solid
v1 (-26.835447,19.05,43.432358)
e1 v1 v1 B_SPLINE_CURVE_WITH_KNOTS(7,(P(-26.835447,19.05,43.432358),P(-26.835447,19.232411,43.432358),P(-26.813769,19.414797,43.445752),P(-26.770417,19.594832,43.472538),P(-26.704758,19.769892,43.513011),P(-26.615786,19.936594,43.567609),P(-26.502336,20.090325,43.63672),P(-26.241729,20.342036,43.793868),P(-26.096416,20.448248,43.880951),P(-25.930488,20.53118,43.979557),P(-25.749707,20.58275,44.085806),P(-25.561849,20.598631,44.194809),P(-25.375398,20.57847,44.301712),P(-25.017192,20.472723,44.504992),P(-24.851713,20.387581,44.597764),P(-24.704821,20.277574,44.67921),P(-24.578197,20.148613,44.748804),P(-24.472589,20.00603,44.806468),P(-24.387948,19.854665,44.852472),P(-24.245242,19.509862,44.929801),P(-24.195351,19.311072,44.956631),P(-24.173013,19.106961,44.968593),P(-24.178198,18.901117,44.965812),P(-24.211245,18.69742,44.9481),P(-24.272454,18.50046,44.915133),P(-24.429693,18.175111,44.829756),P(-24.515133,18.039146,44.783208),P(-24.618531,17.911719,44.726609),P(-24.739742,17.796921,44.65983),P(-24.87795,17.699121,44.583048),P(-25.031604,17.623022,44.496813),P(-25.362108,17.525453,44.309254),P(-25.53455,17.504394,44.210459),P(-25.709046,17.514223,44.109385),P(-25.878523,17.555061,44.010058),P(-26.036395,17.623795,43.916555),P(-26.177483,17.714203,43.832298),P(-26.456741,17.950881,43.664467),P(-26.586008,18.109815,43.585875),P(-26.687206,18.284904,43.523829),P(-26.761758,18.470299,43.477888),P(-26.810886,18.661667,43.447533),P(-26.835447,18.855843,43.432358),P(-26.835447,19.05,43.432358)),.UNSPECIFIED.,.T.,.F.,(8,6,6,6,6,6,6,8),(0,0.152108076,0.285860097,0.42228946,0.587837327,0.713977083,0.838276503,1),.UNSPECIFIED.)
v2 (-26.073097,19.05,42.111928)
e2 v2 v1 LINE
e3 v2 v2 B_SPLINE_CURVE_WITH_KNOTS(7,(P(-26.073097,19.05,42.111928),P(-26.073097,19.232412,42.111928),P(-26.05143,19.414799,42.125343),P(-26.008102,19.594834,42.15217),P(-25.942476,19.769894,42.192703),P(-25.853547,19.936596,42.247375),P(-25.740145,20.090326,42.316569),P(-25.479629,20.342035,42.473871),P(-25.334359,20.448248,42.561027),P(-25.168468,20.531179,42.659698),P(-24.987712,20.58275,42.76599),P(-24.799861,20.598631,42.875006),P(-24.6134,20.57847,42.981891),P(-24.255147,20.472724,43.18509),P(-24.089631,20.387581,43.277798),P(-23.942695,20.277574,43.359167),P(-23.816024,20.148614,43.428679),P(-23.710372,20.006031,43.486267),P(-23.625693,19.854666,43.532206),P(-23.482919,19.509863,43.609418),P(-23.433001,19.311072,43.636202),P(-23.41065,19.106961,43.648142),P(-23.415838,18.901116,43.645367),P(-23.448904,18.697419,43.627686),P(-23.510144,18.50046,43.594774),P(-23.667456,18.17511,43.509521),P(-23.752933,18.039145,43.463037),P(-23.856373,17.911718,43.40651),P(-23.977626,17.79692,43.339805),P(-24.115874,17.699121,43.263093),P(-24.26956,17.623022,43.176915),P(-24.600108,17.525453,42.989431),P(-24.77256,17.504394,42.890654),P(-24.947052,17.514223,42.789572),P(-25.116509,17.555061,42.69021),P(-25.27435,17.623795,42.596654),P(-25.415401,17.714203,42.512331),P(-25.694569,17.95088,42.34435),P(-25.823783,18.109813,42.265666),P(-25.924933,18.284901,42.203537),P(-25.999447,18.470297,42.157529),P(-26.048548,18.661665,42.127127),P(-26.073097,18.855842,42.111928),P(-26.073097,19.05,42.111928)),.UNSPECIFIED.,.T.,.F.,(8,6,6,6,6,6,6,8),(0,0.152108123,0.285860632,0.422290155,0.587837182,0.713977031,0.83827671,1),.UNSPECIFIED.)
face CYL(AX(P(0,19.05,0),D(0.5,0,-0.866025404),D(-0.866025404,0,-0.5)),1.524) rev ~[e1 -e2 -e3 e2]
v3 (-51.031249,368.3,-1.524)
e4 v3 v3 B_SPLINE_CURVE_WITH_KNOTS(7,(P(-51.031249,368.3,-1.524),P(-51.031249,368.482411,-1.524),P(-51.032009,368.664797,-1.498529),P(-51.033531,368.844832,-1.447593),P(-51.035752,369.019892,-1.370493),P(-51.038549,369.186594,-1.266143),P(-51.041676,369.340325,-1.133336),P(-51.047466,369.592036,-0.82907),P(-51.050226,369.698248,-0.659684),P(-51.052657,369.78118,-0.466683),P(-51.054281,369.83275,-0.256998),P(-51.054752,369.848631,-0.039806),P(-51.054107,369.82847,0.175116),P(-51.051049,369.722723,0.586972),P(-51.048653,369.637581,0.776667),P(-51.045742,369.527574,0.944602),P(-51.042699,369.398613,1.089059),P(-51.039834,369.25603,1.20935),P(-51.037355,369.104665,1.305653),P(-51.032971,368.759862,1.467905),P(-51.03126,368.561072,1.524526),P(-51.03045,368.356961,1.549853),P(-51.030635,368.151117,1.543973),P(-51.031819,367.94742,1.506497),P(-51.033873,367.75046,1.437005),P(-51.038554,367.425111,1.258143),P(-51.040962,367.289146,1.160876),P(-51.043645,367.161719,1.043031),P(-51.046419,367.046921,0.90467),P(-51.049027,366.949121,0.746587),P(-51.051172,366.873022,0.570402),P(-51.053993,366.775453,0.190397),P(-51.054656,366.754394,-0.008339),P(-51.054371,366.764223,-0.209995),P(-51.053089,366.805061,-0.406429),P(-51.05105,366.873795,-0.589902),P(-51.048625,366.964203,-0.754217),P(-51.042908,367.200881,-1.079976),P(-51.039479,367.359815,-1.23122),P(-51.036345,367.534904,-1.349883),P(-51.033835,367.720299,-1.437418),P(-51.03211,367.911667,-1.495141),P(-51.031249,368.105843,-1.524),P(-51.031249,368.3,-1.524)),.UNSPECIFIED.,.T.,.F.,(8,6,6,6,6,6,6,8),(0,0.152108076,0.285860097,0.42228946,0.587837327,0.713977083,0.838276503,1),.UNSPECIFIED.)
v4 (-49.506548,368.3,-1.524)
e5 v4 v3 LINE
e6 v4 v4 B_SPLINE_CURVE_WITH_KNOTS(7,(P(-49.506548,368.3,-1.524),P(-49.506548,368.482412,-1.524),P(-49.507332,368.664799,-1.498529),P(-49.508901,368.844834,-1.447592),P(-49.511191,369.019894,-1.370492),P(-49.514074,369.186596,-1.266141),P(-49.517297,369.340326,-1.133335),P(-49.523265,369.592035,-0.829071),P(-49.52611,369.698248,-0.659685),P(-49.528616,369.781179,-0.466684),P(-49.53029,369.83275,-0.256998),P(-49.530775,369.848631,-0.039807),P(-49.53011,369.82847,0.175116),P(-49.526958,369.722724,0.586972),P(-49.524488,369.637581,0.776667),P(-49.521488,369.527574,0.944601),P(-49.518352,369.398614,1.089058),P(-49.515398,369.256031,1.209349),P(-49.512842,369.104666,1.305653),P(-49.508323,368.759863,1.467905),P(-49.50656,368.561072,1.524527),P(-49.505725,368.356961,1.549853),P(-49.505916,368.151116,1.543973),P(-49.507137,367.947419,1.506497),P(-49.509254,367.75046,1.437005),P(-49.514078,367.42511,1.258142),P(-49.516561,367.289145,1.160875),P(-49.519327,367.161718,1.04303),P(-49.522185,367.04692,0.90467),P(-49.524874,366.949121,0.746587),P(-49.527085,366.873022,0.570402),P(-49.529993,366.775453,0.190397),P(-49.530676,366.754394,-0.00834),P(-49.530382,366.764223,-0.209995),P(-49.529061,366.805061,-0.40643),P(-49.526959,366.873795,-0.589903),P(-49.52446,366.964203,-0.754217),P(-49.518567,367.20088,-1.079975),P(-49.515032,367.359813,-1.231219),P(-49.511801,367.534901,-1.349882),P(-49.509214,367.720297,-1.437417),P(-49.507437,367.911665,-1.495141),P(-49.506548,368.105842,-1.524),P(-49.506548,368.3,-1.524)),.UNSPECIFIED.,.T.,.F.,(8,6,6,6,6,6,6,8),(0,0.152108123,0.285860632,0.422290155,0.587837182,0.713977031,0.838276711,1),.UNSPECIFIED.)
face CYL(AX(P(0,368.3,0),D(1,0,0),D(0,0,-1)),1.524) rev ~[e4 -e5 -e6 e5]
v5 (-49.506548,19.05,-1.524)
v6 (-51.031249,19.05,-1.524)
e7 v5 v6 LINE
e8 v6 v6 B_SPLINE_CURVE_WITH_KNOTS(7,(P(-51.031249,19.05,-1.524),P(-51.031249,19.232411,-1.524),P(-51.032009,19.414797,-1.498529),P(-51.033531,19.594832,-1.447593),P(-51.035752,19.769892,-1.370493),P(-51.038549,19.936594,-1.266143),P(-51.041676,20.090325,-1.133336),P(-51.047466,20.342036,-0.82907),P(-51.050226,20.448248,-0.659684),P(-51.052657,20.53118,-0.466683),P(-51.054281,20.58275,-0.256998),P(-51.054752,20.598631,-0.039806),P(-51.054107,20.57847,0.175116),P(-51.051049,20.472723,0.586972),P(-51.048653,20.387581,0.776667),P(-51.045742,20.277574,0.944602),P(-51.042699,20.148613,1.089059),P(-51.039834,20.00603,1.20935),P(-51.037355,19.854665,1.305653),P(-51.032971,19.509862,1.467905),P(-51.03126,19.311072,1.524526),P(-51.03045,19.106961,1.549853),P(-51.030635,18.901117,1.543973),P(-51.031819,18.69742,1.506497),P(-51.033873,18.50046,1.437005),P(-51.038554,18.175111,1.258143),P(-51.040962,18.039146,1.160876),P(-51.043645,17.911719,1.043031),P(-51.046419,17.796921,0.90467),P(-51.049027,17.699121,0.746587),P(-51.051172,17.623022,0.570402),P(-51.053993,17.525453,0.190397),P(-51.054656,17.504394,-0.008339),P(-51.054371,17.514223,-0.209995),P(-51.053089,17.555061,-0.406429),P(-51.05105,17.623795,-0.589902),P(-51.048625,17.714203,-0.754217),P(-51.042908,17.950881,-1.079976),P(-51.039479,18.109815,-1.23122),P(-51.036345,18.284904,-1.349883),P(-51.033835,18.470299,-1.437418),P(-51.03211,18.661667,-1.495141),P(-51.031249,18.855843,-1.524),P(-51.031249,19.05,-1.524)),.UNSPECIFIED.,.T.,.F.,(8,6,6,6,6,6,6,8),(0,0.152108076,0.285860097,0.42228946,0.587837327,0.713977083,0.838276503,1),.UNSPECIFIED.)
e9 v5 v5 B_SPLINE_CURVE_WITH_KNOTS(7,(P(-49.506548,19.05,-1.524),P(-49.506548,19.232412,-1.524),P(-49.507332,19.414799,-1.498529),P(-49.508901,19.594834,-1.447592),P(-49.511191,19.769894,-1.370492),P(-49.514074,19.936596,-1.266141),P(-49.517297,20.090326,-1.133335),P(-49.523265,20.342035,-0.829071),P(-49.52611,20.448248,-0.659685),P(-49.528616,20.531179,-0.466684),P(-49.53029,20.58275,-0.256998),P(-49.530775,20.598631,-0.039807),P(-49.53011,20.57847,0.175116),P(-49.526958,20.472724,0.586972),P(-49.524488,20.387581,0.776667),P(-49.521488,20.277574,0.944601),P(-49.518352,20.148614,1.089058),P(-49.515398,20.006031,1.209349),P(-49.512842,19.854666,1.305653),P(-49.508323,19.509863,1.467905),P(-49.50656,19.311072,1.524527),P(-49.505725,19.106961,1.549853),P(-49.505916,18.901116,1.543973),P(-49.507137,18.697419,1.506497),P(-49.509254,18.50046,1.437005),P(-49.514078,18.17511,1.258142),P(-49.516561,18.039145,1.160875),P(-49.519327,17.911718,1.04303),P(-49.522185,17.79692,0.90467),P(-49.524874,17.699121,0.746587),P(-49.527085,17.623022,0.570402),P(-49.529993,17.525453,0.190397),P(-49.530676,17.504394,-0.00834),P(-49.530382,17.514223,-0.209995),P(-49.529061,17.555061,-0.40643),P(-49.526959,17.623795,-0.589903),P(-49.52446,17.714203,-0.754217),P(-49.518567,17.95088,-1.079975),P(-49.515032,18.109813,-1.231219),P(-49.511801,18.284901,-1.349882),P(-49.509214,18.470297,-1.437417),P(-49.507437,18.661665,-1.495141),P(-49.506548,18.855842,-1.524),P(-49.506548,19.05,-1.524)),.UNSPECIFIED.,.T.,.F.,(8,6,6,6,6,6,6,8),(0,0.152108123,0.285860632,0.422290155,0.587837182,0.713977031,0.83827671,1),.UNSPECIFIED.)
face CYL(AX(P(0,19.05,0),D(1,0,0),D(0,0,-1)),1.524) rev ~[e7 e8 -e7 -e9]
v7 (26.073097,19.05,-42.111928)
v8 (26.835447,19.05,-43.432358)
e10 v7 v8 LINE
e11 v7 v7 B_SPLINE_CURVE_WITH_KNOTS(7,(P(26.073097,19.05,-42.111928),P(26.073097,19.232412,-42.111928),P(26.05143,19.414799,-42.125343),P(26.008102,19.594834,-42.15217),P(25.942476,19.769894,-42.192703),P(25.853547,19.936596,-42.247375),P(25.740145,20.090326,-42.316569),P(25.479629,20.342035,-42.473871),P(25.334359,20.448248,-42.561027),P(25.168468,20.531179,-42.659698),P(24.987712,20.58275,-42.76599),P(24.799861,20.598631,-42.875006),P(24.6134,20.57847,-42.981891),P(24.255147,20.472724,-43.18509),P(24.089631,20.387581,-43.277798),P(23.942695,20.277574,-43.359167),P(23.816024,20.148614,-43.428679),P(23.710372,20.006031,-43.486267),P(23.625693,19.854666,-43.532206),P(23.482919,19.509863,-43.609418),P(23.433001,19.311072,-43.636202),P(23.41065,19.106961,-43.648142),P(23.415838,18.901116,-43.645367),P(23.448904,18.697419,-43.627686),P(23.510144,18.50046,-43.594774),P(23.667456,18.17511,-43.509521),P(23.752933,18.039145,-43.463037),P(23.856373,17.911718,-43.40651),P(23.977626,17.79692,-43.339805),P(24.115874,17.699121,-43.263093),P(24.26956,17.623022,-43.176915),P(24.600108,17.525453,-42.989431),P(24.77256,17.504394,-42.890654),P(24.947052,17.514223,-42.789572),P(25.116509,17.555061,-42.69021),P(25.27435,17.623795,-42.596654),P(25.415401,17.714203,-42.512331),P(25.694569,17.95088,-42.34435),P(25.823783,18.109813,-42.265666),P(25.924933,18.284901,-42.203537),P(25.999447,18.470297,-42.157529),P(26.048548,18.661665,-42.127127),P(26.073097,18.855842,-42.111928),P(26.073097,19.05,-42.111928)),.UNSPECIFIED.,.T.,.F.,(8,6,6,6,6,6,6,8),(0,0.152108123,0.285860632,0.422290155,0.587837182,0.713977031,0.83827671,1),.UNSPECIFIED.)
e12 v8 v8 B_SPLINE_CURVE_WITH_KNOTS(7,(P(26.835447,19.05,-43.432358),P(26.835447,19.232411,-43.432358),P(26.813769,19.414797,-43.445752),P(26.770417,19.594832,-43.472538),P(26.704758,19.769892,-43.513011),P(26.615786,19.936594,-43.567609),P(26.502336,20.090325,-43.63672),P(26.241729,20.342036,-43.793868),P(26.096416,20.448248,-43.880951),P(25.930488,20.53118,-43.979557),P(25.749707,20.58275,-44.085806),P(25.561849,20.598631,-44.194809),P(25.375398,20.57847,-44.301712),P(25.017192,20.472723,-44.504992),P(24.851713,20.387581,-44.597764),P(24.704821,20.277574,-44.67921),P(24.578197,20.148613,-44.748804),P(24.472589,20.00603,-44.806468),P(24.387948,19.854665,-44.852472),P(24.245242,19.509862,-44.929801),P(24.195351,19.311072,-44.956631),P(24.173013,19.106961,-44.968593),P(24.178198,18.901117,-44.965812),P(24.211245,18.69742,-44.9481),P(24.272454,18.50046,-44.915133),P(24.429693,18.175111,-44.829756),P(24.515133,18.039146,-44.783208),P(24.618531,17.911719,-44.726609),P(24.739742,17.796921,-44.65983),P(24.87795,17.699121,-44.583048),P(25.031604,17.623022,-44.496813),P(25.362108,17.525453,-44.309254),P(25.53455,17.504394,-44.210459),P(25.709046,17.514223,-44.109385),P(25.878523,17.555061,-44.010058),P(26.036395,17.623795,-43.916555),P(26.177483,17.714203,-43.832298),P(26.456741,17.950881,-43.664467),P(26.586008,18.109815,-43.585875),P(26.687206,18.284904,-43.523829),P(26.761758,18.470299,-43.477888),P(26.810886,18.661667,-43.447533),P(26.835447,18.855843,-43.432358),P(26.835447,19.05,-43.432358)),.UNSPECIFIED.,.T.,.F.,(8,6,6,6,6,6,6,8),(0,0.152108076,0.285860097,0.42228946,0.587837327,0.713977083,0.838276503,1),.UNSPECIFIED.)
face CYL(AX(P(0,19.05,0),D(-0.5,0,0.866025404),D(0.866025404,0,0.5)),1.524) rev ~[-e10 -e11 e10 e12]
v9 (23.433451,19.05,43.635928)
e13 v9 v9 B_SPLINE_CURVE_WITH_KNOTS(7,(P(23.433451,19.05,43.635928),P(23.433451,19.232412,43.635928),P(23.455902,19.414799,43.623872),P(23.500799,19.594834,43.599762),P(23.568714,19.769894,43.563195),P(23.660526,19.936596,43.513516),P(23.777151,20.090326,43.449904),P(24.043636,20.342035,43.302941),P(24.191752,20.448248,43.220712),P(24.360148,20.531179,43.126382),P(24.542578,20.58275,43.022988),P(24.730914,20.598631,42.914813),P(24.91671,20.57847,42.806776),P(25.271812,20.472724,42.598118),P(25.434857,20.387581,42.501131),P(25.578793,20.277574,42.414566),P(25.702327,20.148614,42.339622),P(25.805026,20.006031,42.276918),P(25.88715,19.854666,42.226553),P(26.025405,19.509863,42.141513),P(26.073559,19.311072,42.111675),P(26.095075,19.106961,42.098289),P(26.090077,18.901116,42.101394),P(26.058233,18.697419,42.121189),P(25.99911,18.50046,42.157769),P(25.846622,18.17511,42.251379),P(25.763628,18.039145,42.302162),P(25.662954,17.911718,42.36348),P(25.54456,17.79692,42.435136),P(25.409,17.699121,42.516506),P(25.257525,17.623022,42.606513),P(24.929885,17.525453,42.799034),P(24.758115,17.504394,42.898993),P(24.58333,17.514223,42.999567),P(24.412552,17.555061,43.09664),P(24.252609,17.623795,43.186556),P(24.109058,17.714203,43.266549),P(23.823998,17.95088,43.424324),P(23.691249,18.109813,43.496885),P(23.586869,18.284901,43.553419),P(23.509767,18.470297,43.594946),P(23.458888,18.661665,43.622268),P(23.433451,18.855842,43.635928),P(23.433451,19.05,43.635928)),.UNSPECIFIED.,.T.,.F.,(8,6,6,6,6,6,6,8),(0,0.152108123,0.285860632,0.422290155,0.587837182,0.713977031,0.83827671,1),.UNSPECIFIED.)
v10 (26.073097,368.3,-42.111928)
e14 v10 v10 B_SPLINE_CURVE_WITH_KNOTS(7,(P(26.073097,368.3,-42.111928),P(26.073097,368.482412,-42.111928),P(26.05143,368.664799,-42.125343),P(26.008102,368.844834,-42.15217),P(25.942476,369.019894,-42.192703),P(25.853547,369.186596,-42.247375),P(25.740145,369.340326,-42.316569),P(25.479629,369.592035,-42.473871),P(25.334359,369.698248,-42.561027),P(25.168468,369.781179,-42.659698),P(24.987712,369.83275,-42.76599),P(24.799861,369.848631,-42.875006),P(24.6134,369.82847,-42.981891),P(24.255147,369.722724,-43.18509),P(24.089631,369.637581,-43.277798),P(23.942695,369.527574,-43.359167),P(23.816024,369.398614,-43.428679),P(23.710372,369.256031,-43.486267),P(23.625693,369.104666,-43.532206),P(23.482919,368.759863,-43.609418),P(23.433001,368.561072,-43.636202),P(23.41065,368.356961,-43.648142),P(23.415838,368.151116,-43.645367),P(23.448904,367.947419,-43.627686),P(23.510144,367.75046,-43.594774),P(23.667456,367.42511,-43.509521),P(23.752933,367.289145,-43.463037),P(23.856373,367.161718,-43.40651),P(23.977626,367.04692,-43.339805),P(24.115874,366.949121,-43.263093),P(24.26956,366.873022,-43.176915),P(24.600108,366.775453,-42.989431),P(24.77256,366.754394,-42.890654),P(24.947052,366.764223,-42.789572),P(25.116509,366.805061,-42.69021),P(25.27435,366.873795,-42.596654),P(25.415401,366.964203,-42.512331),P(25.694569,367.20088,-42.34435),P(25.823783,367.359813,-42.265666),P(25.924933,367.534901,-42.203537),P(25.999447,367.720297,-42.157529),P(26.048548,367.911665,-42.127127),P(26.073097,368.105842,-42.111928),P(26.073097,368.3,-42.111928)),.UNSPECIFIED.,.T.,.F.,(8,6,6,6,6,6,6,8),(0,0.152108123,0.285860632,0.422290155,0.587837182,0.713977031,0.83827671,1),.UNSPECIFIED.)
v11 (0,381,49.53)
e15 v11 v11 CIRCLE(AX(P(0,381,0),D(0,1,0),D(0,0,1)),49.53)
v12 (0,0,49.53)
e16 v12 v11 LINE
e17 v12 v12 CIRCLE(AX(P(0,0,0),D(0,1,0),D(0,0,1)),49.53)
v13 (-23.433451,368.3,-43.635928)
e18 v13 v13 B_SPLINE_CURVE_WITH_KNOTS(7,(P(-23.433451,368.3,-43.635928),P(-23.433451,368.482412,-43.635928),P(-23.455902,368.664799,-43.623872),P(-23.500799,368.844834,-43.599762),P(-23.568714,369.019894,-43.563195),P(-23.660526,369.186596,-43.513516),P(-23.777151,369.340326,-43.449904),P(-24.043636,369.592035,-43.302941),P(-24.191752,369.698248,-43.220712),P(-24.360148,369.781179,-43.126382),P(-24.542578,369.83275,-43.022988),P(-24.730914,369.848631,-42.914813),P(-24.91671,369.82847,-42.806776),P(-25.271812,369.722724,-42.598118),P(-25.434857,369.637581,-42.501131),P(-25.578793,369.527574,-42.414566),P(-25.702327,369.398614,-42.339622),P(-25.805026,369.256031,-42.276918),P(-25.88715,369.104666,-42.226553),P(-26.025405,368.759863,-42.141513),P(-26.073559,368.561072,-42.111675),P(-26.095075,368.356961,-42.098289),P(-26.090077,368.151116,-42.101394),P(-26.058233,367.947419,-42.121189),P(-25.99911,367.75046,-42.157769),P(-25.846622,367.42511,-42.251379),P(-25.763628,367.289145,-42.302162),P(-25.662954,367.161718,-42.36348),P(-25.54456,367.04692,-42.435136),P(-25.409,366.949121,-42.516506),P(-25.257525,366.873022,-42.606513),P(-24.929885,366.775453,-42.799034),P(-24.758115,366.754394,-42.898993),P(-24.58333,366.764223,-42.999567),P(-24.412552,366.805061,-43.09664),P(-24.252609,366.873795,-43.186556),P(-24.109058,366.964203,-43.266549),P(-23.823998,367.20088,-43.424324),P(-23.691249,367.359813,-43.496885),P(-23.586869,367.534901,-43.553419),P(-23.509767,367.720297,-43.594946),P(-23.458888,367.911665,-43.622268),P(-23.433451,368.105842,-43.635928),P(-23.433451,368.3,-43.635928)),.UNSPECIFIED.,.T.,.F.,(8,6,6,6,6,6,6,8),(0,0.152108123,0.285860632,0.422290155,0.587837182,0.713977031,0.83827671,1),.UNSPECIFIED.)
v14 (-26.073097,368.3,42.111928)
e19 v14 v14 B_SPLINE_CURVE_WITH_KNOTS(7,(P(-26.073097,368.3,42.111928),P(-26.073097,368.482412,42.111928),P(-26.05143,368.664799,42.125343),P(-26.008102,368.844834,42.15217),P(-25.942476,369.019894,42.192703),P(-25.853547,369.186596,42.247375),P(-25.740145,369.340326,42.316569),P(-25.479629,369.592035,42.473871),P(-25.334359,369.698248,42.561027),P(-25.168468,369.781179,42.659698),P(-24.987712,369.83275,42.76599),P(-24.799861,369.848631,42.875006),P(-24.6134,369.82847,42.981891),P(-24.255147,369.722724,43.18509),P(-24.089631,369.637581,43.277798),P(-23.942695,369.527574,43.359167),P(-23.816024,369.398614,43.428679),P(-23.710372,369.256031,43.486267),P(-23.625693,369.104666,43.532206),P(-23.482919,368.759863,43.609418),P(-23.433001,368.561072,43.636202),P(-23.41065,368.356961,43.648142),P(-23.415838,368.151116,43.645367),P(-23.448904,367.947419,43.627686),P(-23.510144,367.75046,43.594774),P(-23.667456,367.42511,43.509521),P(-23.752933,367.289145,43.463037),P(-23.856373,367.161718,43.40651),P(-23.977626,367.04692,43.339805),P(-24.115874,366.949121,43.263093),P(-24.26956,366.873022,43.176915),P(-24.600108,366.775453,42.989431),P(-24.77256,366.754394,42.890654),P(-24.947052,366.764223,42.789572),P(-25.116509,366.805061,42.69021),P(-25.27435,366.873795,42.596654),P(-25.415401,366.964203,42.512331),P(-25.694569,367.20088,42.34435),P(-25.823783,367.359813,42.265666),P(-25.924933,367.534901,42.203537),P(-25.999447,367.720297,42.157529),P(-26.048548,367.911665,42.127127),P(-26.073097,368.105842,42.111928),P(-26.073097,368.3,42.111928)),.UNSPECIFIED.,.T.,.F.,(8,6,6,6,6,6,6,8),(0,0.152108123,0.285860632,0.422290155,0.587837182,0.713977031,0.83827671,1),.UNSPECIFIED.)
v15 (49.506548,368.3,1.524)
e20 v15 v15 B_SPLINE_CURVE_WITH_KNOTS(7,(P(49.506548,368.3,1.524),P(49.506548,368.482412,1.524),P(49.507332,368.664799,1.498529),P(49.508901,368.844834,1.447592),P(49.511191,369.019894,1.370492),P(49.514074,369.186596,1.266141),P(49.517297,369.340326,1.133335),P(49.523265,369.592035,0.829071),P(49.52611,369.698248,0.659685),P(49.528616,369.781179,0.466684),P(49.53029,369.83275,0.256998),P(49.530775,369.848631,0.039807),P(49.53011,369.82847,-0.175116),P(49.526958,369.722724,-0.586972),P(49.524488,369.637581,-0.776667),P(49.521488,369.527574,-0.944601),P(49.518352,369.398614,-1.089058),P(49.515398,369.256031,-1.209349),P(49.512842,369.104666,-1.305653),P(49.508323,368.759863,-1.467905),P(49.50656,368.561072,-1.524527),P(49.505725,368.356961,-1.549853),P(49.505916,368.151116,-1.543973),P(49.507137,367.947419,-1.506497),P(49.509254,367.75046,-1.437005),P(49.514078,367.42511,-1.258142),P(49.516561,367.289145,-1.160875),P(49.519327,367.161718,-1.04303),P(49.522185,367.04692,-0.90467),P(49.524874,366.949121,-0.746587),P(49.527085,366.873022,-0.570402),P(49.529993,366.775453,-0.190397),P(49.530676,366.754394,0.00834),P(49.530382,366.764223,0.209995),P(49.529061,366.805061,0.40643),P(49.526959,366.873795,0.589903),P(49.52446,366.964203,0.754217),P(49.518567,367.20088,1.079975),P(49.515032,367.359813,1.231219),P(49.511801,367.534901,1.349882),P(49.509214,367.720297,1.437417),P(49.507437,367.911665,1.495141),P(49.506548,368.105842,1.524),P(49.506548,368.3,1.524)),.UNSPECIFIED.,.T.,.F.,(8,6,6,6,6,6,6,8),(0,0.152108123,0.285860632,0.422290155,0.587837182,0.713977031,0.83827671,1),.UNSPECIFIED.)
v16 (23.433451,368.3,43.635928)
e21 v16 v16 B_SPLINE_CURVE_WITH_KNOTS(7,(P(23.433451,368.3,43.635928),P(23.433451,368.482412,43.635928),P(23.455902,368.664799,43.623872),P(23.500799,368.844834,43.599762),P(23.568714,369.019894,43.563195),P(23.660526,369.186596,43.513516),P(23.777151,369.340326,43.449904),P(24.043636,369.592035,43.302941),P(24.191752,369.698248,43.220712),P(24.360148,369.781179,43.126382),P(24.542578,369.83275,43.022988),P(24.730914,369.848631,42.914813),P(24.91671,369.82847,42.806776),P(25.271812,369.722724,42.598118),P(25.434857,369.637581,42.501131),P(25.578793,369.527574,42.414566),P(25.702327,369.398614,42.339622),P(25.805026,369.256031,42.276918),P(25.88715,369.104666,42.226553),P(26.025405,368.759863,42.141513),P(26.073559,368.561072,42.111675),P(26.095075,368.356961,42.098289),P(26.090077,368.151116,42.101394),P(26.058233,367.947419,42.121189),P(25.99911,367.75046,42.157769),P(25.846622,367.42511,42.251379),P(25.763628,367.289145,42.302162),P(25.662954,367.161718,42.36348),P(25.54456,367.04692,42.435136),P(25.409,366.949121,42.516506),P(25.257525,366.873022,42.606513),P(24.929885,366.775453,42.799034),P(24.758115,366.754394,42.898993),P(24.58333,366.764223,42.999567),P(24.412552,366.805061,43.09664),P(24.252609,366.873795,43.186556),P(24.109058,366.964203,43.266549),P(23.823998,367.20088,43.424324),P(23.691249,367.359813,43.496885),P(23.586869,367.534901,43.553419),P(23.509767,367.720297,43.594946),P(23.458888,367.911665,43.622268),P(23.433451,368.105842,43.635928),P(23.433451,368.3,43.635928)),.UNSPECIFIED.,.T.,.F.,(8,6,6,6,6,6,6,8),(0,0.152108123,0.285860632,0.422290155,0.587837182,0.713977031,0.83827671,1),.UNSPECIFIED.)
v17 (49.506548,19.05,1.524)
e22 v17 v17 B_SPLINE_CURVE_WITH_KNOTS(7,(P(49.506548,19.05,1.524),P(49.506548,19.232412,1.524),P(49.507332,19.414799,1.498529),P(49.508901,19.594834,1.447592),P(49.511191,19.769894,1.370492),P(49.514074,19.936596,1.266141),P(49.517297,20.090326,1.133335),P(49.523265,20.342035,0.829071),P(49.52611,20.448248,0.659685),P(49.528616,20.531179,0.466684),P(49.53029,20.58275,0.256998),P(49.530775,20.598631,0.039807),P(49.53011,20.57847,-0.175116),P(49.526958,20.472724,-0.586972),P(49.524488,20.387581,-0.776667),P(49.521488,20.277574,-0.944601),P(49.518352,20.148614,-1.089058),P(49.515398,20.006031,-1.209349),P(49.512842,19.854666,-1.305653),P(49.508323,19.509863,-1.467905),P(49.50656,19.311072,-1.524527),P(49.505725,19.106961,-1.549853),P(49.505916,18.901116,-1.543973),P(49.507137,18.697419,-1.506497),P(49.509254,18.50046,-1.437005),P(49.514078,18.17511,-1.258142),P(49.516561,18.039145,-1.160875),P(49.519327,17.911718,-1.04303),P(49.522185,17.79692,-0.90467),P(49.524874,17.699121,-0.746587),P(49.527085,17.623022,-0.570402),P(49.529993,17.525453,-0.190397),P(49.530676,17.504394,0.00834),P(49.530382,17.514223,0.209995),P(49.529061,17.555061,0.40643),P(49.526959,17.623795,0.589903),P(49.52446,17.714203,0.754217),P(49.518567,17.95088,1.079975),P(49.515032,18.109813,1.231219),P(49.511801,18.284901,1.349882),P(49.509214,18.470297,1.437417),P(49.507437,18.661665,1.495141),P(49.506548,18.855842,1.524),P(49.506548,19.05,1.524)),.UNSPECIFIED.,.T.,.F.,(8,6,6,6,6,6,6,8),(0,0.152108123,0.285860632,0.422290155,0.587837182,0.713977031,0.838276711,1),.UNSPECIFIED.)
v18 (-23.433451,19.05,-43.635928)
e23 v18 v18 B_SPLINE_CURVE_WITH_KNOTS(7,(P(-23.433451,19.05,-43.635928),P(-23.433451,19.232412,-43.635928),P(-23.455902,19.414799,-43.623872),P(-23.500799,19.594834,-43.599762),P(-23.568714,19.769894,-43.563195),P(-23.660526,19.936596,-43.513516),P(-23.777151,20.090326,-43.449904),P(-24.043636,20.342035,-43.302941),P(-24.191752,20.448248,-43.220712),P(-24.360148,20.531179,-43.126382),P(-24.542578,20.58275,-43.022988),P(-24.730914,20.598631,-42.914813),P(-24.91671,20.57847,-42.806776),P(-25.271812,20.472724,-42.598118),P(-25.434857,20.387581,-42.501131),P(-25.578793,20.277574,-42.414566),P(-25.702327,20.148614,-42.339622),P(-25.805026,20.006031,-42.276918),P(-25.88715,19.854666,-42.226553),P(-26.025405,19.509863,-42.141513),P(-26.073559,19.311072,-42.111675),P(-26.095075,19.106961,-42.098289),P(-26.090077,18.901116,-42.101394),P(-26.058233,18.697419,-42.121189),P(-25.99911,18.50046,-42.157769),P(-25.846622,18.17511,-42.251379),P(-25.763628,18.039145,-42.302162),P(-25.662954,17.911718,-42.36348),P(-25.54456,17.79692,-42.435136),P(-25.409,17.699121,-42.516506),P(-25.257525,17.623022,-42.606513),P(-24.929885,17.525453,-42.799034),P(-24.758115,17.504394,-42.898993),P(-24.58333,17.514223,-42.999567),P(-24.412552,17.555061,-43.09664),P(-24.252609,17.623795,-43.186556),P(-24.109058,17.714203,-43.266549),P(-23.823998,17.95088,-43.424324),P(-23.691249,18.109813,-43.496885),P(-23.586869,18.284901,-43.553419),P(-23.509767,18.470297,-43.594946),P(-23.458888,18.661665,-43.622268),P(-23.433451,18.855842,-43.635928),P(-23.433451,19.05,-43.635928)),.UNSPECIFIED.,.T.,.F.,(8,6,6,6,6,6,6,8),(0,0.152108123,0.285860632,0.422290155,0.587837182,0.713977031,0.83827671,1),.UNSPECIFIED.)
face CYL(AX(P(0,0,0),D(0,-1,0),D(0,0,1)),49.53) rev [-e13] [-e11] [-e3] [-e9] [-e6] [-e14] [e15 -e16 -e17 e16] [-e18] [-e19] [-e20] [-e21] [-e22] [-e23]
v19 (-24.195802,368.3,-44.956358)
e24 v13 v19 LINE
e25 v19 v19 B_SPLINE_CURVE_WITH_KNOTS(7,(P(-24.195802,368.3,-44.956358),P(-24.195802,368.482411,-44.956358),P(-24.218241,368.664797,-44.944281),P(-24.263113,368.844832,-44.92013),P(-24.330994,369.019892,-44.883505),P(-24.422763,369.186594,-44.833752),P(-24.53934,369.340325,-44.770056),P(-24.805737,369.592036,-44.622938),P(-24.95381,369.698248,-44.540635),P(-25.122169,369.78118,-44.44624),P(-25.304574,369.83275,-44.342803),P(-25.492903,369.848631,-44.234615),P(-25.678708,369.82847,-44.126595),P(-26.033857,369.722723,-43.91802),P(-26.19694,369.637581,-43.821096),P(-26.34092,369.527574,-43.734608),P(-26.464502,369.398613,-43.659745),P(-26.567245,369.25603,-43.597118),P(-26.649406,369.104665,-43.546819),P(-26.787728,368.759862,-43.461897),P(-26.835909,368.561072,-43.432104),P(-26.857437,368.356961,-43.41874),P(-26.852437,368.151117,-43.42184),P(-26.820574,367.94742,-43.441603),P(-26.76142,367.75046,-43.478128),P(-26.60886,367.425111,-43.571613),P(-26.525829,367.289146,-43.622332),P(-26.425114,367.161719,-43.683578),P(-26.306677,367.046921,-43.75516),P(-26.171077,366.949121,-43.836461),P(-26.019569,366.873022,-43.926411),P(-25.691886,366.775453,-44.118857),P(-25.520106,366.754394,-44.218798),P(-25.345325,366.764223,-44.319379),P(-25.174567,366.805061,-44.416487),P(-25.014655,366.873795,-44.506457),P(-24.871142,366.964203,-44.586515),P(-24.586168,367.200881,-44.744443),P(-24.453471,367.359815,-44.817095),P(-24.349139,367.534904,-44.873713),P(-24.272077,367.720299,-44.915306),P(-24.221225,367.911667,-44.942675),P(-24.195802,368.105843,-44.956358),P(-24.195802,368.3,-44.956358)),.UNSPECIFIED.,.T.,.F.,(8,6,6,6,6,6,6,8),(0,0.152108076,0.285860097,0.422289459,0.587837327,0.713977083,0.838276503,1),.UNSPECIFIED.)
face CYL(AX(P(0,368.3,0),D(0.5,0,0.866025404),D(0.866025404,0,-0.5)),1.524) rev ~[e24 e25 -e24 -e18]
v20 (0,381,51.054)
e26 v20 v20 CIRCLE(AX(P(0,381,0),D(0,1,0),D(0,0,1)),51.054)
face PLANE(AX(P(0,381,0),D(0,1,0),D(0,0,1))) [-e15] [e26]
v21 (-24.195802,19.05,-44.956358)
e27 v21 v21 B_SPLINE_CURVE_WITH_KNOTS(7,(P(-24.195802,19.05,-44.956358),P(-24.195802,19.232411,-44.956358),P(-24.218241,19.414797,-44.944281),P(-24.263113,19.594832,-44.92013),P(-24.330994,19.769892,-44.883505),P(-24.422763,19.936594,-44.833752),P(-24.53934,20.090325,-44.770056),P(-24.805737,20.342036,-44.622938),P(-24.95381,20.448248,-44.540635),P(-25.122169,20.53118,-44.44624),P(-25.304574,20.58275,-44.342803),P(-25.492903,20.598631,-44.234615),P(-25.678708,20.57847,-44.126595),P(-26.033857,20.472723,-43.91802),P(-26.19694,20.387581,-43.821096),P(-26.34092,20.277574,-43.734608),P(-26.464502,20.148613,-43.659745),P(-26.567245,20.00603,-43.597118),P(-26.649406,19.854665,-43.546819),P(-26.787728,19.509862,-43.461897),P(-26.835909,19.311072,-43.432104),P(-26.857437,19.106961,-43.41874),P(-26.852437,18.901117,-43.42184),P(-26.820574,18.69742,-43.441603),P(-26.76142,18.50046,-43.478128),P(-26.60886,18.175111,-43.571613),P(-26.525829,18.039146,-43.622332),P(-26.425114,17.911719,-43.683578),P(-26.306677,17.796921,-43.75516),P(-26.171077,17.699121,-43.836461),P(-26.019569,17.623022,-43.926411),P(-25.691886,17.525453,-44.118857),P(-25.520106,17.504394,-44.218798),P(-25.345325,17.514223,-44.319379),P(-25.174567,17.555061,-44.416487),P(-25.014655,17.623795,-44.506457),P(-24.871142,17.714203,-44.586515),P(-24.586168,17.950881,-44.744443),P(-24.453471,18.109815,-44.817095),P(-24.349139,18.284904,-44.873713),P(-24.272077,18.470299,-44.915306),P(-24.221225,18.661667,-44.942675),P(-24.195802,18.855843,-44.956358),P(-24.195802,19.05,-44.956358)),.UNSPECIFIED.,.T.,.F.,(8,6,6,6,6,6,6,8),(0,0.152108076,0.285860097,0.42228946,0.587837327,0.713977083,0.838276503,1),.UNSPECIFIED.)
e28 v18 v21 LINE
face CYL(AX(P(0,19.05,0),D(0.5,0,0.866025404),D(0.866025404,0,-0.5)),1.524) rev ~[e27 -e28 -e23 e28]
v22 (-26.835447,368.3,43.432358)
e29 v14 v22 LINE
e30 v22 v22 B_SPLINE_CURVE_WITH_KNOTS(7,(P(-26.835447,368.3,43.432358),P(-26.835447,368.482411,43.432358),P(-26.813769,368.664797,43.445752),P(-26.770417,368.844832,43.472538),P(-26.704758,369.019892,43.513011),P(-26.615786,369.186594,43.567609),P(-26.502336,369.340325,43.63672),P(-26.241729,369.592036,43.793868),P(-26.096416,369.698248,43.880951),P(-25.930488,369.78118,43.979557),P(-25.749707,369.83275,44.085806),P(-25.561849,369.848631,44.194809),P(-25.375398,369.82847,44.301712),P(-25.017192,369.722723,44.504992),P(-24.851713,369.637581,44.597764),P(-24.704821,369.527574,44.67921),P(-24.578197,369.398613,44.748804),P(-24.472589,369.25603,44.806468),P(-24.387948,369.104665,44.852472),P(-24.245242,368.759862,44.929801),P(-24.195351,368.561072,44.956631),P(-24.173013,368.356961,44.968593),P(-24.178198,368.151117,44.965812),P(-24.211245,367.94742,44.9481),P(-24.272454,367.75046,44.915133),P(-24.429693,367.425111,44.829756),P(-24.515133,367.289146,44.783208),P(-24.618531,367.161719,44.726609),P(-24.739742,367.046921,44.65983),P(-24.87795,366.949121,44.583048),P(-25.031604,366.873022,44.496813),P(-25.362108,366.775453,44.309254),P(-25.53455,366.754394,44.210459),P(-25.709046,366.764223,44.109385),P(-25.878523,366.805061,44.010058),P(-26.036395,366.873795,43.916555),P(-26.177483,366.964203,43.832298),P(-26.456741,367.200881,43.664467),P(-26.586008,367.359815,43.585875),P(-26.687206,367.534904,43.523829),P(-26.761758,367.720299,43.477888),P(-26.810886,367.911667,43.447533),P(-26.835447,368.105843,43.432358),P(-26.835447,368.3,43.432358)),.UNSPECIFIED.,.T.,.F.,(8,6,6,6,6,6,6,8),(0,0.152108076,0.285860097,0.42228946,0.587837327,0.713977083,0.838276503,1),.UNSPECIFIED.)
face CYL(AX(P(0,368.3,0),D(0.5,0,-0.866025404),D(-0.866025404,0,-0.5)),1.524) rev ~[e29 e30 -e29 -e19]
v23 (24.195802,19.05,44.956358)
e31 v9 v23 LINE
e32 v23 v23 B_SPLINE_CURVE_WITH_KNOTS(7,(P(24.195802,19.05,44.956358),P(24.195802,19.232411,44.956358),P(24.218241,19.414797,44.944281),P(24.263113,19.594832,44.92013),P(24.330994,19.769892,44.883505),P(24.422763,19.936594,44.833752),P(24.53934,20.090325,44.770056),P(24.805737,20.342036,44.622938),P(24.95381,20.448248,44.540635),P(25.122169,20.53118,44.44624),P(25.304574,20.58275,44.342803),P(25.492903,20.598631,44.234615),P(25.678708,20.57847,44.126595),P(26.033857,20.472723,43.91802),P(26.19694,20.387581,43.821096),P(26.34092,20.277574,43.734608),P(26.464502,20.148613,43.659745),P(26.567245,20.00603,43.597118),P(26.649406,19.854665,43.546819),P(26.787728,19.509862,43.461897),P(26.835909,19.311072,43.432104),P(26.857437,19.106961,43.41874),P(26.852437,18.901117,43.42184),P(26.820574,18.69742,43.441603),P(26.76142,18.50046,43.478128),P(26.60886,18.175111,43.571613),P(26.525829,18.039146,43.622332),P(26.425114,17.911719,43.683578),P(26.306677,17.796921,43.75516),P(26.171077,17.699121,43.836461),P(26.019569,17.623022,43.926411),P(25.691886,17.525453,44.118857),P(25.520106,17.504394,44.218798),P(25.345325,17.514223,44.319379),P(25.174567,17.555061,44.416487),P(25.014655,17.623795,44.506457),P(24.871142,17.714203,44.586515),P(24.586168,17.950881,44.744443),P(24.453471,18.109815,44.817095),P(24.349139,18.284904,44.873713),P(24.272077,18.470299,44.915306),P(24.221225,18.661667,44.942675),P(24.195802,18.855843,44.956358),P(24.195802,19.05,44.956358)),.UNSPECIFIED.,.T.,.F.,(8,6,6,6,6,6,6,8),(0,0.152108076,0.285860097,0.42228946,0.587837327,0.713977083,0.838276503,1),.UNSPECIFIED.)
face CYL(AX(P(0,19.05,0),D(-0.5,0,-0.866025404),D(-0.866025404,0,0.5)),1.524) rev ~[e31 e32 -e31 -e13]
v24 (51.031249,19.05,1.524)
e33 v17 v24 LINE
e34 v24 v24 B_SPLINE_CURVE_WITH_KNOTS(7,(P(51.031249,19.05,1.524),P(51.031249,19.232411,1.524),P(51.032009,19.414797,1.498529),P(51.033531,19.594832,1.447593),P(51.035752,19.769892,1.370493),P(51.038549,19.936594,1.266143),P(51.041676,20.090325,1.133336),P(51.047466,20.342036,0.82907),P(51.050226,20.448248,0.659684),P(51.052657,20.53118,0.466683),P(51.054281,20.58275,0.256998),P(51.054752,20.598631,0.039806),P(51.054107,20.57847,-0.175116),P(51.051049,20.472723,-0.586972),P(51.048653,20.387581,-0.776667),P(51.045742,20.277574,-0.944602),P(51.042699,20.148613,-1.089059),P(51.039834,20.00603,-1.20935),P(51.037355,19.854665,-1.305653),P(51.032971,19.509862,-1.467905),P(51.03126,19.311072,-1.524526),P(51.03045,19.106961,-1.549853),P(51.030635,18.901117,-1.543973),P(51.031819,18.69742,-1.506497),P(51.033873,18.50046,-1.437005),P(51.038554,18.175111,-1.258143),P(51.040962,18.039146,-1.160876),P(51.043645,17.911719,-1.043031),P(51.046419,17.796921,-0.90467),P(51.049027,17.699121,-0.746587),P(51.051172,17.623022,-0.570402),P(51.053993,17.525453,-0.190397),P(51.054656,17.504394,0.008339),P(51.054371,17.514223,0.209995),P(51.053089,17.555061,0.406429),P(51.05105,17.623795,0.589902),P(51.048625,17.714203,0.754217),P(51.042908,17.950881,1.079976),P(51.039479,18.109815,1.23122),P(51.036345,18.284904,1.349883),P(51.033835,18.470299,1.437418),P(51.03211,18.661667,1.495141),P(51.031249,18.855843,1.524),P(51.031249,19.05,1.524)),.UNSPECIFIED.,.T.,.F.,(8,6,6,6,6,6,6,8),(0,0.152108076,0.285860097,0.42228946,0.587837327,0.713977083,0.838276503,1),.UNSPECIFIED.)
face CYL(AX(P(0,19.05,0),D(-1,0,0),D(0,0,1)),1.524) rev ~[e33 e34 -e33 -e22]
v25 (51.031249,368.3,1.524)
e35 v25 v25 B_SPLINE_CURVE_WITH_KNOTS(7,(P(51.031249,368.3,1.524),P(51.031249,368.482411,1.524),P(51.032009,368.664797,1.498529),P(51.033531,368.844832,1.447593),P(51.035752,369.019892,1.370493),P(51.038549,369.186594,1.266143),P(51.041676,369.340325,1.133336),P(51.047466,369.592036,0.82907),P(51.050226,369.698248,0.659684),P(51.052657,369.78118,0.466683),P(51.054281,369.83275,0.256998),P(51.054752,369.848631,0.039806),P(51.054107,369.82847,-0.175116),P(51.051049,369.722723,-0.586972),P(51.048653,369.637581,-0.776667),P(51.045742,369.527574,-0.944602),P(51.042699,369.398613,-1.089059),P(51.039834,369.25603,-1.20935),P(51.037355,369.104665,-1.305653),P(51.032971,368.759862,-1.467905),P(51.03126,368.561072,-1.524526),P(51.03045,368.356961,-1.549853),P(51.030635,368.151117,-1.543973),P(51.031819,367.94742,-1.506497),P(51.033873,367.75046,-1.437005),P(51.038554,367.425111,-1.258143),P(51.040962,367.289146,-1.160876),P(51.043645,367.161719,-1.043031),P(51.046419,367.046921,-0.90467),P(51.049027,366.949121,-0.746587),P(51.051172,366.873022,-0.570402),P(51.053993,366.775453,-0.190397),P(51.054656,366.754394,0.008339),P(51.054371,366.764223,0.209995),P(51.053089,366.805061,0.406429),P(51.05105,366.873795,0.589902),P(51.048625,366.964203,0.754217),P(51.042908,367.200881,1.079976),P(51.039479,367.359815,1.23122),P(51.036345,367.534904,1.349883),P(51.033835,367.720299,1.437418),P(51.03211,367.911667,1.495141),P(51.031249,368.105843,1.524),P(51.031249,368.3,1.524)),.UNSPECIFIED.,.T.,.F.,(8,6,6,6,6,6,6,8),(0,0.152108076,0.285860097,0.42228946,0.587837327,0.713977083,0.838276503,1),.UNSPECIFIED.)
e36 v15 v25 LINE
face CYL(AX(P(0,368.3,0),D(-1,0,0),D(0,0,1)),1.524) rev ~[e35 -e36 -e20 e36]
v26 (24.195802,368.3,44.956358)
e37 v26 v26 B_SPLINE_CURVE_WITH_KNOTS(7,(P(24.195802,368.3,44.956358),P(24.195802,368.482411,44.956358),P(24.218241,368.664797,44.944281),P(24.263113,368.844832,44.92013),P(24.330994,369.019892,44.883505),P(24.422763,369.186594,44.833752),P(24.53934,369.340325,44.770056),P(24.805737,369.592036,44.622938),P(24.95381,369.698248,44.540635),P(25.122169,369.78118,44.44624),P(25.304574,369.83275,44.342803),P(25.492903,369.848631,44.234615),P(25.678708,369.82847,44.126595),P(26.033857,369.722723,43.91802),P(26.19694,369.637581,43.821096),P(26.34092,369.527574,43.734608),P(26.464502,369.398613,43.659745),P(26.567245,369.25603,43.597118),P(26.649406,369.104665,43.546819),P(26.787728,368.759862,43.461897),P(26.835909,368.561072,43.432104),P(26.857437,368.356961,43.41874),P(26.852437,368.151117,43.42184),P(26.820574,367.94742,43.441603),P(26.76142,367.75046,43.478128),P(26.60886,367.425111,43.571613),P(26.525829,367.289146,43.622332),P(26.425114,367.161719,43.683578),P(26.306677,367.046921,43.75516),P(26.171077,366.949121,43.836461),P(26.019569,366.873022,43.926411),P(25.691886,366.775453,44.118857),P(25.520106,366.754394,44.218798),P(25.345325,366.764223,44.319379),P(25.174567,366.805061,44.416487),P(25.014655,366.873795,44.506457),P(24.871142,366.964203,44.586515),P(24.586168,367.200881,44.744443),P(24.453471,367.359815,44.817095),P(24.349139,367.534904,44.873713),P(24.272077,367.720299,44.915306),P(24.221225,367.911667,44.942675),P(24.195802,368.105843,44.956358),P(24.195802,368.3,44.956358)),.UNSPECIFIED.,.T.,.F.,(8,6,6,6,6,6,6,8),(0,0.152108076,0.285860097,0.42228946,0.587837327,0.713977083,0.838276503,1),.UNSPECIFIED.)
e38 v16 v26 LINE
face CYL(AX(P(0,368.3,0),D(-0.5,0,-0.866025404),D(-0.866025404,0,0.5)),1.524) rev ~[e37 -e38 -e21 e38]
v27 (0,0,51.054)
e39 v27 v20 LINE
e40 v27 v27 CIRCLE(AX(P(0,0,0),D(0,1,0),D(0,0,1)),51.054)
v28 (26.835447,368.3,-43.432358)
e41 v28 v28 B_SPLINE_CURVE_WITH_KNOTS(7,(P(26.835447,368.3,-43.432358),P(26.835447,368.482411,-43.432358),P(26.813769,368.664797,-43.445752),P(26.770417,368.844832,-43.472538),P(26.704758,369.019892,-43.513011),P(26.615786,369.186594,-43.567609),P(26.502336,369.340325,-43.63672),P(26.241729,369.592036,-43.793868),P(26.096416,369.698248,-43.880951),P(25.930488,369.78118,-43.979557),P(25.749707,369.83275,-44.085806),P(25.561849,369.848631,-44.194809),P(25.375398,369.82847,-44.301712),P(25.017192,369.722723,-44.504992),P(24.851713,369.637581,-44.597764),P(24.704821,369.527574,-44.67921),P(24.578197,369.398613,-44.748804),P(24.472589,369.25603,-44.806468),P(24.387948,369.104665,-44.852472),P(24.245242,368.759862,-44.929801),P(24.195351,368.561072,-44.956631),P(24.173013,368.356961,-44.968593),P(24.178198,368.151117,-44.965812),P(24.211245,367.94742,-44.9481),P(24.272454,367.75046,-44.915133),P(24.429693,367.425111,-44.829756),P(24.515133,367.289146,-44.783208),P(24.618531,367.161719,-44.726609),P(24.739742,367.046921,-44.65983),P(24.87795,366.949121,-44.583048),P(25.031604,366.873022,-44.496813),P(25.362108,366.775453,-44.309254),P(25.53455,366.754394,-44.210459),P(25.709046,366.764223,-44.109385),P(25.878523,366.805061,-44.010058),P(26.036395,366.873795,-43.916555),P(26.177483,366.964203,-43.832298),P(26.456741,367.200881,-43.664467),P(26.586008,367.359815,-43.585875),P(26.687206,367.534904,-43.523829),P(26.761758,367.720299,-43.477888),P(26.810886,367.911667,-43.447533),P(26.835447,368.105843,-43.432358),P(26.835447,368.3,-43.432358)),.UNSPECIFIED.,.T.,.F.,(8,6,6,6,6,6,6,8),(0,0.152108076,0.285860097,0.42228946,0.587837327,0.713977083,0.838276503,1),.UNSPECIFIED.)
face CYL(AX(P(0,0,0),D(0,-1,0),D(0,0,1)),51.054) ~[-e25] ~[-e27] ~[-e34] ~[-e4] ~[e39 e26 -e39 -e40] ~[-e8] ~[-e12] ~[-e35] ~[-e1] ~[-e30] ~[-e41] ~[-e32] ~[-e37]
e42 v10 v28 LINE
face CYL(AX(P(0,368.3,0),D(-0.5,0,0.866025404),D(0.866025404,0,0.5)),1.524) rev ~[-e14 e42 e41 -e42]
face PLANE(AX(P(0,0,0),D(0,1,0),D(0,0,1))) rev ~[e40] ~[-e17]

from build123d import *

# Parameters (mm, degrees)
SKETCH1_R           = 51.054
SKETCH1_R_2         = 49.53
BOSS_EXTRUDE1_DEPTH = 381
SKETCH2_R           = 1.524
CUT_EXTRUDE1_DEPTH  = 136.398
CIRPATTERN1_COUNT   = 6
SKETCH3_R           = 1.524
CUT_EXTRUDE2_DEPTH  = 177.8
CIRPATTERN2_COUNT   = 6


with BuildPart() as part:
    # Sketch1 → Boss-Extrude1 (new body)
    with BuildSketch(Plane(origin=(0, 0, 0), x_dir=(1, 0, 0), z_dir=(0, 1, 0))):
        with Locations(Location((0, 0, 0), (0, 0, 270))):
            Circle(SKETCH1_R)
        with Locations(Location((0, 0, 0), (0, 0, 270))):
            Circle(SKETCH1_R_2, mode=Mode.SUBTRACT)
    extrude(amount=BOSS_EXTRUDE1_DEPTH)

    # Sketch2 → Cut-Extrude1 (cut)
    with BuildSketch(Plane(origin=(0, 0, 0), x_dir=(0, 0, -1), z_dir=(1, 0, 0))):
        with Locations((0, 19.05)):
            Circle(SKETCH2_R)
    cut_extrude1 = extrude(amount=-CUT_EXTRUDE1_DEPTH, mode=Mode.SUBTRACT)

    # CirPattern1: Cut-Extrude1 ×6 about axis
    cirpattern1_axis = Axis((0, 381, 0), (0, -1, 0))
    for i in range(1, CIRPATTERN1_COUNT):
        add(cut_extrude1.rotate(cirpattern1_axis, i * 360 / CIRPATTERN1_COUNT), mode=Mode.SUBTRACT)

    # Sketch3 → Cut-Extrude2 (cut)
    with BuildSketch(Plane(origin=(0, 0, 0), x_dir=(0, 0, -1), z_dir=(1, 0, 0))):
        with Locations((0, 368.3)):
            Circle(SKETCH3_R)
    cut_extrude2 = extrude(amount=-CUT_EXTRUDE2_DEPTH, mode=Mode.SUBTRACT)

    # CirPattern2: Cut-Extrude2 ×6 about axis
    cirpattern2_axis = Axis((0, 381, 0), (0, -1, 0))
    for i in range(1, CIRPATTERN2_COUNT):
        add(cut_extrude2.rotate(cirpattern2_axis, i * 360 / CIRPATTERN2_COUNT), mode=Mode.SUBTRACT)


solid = part.part
